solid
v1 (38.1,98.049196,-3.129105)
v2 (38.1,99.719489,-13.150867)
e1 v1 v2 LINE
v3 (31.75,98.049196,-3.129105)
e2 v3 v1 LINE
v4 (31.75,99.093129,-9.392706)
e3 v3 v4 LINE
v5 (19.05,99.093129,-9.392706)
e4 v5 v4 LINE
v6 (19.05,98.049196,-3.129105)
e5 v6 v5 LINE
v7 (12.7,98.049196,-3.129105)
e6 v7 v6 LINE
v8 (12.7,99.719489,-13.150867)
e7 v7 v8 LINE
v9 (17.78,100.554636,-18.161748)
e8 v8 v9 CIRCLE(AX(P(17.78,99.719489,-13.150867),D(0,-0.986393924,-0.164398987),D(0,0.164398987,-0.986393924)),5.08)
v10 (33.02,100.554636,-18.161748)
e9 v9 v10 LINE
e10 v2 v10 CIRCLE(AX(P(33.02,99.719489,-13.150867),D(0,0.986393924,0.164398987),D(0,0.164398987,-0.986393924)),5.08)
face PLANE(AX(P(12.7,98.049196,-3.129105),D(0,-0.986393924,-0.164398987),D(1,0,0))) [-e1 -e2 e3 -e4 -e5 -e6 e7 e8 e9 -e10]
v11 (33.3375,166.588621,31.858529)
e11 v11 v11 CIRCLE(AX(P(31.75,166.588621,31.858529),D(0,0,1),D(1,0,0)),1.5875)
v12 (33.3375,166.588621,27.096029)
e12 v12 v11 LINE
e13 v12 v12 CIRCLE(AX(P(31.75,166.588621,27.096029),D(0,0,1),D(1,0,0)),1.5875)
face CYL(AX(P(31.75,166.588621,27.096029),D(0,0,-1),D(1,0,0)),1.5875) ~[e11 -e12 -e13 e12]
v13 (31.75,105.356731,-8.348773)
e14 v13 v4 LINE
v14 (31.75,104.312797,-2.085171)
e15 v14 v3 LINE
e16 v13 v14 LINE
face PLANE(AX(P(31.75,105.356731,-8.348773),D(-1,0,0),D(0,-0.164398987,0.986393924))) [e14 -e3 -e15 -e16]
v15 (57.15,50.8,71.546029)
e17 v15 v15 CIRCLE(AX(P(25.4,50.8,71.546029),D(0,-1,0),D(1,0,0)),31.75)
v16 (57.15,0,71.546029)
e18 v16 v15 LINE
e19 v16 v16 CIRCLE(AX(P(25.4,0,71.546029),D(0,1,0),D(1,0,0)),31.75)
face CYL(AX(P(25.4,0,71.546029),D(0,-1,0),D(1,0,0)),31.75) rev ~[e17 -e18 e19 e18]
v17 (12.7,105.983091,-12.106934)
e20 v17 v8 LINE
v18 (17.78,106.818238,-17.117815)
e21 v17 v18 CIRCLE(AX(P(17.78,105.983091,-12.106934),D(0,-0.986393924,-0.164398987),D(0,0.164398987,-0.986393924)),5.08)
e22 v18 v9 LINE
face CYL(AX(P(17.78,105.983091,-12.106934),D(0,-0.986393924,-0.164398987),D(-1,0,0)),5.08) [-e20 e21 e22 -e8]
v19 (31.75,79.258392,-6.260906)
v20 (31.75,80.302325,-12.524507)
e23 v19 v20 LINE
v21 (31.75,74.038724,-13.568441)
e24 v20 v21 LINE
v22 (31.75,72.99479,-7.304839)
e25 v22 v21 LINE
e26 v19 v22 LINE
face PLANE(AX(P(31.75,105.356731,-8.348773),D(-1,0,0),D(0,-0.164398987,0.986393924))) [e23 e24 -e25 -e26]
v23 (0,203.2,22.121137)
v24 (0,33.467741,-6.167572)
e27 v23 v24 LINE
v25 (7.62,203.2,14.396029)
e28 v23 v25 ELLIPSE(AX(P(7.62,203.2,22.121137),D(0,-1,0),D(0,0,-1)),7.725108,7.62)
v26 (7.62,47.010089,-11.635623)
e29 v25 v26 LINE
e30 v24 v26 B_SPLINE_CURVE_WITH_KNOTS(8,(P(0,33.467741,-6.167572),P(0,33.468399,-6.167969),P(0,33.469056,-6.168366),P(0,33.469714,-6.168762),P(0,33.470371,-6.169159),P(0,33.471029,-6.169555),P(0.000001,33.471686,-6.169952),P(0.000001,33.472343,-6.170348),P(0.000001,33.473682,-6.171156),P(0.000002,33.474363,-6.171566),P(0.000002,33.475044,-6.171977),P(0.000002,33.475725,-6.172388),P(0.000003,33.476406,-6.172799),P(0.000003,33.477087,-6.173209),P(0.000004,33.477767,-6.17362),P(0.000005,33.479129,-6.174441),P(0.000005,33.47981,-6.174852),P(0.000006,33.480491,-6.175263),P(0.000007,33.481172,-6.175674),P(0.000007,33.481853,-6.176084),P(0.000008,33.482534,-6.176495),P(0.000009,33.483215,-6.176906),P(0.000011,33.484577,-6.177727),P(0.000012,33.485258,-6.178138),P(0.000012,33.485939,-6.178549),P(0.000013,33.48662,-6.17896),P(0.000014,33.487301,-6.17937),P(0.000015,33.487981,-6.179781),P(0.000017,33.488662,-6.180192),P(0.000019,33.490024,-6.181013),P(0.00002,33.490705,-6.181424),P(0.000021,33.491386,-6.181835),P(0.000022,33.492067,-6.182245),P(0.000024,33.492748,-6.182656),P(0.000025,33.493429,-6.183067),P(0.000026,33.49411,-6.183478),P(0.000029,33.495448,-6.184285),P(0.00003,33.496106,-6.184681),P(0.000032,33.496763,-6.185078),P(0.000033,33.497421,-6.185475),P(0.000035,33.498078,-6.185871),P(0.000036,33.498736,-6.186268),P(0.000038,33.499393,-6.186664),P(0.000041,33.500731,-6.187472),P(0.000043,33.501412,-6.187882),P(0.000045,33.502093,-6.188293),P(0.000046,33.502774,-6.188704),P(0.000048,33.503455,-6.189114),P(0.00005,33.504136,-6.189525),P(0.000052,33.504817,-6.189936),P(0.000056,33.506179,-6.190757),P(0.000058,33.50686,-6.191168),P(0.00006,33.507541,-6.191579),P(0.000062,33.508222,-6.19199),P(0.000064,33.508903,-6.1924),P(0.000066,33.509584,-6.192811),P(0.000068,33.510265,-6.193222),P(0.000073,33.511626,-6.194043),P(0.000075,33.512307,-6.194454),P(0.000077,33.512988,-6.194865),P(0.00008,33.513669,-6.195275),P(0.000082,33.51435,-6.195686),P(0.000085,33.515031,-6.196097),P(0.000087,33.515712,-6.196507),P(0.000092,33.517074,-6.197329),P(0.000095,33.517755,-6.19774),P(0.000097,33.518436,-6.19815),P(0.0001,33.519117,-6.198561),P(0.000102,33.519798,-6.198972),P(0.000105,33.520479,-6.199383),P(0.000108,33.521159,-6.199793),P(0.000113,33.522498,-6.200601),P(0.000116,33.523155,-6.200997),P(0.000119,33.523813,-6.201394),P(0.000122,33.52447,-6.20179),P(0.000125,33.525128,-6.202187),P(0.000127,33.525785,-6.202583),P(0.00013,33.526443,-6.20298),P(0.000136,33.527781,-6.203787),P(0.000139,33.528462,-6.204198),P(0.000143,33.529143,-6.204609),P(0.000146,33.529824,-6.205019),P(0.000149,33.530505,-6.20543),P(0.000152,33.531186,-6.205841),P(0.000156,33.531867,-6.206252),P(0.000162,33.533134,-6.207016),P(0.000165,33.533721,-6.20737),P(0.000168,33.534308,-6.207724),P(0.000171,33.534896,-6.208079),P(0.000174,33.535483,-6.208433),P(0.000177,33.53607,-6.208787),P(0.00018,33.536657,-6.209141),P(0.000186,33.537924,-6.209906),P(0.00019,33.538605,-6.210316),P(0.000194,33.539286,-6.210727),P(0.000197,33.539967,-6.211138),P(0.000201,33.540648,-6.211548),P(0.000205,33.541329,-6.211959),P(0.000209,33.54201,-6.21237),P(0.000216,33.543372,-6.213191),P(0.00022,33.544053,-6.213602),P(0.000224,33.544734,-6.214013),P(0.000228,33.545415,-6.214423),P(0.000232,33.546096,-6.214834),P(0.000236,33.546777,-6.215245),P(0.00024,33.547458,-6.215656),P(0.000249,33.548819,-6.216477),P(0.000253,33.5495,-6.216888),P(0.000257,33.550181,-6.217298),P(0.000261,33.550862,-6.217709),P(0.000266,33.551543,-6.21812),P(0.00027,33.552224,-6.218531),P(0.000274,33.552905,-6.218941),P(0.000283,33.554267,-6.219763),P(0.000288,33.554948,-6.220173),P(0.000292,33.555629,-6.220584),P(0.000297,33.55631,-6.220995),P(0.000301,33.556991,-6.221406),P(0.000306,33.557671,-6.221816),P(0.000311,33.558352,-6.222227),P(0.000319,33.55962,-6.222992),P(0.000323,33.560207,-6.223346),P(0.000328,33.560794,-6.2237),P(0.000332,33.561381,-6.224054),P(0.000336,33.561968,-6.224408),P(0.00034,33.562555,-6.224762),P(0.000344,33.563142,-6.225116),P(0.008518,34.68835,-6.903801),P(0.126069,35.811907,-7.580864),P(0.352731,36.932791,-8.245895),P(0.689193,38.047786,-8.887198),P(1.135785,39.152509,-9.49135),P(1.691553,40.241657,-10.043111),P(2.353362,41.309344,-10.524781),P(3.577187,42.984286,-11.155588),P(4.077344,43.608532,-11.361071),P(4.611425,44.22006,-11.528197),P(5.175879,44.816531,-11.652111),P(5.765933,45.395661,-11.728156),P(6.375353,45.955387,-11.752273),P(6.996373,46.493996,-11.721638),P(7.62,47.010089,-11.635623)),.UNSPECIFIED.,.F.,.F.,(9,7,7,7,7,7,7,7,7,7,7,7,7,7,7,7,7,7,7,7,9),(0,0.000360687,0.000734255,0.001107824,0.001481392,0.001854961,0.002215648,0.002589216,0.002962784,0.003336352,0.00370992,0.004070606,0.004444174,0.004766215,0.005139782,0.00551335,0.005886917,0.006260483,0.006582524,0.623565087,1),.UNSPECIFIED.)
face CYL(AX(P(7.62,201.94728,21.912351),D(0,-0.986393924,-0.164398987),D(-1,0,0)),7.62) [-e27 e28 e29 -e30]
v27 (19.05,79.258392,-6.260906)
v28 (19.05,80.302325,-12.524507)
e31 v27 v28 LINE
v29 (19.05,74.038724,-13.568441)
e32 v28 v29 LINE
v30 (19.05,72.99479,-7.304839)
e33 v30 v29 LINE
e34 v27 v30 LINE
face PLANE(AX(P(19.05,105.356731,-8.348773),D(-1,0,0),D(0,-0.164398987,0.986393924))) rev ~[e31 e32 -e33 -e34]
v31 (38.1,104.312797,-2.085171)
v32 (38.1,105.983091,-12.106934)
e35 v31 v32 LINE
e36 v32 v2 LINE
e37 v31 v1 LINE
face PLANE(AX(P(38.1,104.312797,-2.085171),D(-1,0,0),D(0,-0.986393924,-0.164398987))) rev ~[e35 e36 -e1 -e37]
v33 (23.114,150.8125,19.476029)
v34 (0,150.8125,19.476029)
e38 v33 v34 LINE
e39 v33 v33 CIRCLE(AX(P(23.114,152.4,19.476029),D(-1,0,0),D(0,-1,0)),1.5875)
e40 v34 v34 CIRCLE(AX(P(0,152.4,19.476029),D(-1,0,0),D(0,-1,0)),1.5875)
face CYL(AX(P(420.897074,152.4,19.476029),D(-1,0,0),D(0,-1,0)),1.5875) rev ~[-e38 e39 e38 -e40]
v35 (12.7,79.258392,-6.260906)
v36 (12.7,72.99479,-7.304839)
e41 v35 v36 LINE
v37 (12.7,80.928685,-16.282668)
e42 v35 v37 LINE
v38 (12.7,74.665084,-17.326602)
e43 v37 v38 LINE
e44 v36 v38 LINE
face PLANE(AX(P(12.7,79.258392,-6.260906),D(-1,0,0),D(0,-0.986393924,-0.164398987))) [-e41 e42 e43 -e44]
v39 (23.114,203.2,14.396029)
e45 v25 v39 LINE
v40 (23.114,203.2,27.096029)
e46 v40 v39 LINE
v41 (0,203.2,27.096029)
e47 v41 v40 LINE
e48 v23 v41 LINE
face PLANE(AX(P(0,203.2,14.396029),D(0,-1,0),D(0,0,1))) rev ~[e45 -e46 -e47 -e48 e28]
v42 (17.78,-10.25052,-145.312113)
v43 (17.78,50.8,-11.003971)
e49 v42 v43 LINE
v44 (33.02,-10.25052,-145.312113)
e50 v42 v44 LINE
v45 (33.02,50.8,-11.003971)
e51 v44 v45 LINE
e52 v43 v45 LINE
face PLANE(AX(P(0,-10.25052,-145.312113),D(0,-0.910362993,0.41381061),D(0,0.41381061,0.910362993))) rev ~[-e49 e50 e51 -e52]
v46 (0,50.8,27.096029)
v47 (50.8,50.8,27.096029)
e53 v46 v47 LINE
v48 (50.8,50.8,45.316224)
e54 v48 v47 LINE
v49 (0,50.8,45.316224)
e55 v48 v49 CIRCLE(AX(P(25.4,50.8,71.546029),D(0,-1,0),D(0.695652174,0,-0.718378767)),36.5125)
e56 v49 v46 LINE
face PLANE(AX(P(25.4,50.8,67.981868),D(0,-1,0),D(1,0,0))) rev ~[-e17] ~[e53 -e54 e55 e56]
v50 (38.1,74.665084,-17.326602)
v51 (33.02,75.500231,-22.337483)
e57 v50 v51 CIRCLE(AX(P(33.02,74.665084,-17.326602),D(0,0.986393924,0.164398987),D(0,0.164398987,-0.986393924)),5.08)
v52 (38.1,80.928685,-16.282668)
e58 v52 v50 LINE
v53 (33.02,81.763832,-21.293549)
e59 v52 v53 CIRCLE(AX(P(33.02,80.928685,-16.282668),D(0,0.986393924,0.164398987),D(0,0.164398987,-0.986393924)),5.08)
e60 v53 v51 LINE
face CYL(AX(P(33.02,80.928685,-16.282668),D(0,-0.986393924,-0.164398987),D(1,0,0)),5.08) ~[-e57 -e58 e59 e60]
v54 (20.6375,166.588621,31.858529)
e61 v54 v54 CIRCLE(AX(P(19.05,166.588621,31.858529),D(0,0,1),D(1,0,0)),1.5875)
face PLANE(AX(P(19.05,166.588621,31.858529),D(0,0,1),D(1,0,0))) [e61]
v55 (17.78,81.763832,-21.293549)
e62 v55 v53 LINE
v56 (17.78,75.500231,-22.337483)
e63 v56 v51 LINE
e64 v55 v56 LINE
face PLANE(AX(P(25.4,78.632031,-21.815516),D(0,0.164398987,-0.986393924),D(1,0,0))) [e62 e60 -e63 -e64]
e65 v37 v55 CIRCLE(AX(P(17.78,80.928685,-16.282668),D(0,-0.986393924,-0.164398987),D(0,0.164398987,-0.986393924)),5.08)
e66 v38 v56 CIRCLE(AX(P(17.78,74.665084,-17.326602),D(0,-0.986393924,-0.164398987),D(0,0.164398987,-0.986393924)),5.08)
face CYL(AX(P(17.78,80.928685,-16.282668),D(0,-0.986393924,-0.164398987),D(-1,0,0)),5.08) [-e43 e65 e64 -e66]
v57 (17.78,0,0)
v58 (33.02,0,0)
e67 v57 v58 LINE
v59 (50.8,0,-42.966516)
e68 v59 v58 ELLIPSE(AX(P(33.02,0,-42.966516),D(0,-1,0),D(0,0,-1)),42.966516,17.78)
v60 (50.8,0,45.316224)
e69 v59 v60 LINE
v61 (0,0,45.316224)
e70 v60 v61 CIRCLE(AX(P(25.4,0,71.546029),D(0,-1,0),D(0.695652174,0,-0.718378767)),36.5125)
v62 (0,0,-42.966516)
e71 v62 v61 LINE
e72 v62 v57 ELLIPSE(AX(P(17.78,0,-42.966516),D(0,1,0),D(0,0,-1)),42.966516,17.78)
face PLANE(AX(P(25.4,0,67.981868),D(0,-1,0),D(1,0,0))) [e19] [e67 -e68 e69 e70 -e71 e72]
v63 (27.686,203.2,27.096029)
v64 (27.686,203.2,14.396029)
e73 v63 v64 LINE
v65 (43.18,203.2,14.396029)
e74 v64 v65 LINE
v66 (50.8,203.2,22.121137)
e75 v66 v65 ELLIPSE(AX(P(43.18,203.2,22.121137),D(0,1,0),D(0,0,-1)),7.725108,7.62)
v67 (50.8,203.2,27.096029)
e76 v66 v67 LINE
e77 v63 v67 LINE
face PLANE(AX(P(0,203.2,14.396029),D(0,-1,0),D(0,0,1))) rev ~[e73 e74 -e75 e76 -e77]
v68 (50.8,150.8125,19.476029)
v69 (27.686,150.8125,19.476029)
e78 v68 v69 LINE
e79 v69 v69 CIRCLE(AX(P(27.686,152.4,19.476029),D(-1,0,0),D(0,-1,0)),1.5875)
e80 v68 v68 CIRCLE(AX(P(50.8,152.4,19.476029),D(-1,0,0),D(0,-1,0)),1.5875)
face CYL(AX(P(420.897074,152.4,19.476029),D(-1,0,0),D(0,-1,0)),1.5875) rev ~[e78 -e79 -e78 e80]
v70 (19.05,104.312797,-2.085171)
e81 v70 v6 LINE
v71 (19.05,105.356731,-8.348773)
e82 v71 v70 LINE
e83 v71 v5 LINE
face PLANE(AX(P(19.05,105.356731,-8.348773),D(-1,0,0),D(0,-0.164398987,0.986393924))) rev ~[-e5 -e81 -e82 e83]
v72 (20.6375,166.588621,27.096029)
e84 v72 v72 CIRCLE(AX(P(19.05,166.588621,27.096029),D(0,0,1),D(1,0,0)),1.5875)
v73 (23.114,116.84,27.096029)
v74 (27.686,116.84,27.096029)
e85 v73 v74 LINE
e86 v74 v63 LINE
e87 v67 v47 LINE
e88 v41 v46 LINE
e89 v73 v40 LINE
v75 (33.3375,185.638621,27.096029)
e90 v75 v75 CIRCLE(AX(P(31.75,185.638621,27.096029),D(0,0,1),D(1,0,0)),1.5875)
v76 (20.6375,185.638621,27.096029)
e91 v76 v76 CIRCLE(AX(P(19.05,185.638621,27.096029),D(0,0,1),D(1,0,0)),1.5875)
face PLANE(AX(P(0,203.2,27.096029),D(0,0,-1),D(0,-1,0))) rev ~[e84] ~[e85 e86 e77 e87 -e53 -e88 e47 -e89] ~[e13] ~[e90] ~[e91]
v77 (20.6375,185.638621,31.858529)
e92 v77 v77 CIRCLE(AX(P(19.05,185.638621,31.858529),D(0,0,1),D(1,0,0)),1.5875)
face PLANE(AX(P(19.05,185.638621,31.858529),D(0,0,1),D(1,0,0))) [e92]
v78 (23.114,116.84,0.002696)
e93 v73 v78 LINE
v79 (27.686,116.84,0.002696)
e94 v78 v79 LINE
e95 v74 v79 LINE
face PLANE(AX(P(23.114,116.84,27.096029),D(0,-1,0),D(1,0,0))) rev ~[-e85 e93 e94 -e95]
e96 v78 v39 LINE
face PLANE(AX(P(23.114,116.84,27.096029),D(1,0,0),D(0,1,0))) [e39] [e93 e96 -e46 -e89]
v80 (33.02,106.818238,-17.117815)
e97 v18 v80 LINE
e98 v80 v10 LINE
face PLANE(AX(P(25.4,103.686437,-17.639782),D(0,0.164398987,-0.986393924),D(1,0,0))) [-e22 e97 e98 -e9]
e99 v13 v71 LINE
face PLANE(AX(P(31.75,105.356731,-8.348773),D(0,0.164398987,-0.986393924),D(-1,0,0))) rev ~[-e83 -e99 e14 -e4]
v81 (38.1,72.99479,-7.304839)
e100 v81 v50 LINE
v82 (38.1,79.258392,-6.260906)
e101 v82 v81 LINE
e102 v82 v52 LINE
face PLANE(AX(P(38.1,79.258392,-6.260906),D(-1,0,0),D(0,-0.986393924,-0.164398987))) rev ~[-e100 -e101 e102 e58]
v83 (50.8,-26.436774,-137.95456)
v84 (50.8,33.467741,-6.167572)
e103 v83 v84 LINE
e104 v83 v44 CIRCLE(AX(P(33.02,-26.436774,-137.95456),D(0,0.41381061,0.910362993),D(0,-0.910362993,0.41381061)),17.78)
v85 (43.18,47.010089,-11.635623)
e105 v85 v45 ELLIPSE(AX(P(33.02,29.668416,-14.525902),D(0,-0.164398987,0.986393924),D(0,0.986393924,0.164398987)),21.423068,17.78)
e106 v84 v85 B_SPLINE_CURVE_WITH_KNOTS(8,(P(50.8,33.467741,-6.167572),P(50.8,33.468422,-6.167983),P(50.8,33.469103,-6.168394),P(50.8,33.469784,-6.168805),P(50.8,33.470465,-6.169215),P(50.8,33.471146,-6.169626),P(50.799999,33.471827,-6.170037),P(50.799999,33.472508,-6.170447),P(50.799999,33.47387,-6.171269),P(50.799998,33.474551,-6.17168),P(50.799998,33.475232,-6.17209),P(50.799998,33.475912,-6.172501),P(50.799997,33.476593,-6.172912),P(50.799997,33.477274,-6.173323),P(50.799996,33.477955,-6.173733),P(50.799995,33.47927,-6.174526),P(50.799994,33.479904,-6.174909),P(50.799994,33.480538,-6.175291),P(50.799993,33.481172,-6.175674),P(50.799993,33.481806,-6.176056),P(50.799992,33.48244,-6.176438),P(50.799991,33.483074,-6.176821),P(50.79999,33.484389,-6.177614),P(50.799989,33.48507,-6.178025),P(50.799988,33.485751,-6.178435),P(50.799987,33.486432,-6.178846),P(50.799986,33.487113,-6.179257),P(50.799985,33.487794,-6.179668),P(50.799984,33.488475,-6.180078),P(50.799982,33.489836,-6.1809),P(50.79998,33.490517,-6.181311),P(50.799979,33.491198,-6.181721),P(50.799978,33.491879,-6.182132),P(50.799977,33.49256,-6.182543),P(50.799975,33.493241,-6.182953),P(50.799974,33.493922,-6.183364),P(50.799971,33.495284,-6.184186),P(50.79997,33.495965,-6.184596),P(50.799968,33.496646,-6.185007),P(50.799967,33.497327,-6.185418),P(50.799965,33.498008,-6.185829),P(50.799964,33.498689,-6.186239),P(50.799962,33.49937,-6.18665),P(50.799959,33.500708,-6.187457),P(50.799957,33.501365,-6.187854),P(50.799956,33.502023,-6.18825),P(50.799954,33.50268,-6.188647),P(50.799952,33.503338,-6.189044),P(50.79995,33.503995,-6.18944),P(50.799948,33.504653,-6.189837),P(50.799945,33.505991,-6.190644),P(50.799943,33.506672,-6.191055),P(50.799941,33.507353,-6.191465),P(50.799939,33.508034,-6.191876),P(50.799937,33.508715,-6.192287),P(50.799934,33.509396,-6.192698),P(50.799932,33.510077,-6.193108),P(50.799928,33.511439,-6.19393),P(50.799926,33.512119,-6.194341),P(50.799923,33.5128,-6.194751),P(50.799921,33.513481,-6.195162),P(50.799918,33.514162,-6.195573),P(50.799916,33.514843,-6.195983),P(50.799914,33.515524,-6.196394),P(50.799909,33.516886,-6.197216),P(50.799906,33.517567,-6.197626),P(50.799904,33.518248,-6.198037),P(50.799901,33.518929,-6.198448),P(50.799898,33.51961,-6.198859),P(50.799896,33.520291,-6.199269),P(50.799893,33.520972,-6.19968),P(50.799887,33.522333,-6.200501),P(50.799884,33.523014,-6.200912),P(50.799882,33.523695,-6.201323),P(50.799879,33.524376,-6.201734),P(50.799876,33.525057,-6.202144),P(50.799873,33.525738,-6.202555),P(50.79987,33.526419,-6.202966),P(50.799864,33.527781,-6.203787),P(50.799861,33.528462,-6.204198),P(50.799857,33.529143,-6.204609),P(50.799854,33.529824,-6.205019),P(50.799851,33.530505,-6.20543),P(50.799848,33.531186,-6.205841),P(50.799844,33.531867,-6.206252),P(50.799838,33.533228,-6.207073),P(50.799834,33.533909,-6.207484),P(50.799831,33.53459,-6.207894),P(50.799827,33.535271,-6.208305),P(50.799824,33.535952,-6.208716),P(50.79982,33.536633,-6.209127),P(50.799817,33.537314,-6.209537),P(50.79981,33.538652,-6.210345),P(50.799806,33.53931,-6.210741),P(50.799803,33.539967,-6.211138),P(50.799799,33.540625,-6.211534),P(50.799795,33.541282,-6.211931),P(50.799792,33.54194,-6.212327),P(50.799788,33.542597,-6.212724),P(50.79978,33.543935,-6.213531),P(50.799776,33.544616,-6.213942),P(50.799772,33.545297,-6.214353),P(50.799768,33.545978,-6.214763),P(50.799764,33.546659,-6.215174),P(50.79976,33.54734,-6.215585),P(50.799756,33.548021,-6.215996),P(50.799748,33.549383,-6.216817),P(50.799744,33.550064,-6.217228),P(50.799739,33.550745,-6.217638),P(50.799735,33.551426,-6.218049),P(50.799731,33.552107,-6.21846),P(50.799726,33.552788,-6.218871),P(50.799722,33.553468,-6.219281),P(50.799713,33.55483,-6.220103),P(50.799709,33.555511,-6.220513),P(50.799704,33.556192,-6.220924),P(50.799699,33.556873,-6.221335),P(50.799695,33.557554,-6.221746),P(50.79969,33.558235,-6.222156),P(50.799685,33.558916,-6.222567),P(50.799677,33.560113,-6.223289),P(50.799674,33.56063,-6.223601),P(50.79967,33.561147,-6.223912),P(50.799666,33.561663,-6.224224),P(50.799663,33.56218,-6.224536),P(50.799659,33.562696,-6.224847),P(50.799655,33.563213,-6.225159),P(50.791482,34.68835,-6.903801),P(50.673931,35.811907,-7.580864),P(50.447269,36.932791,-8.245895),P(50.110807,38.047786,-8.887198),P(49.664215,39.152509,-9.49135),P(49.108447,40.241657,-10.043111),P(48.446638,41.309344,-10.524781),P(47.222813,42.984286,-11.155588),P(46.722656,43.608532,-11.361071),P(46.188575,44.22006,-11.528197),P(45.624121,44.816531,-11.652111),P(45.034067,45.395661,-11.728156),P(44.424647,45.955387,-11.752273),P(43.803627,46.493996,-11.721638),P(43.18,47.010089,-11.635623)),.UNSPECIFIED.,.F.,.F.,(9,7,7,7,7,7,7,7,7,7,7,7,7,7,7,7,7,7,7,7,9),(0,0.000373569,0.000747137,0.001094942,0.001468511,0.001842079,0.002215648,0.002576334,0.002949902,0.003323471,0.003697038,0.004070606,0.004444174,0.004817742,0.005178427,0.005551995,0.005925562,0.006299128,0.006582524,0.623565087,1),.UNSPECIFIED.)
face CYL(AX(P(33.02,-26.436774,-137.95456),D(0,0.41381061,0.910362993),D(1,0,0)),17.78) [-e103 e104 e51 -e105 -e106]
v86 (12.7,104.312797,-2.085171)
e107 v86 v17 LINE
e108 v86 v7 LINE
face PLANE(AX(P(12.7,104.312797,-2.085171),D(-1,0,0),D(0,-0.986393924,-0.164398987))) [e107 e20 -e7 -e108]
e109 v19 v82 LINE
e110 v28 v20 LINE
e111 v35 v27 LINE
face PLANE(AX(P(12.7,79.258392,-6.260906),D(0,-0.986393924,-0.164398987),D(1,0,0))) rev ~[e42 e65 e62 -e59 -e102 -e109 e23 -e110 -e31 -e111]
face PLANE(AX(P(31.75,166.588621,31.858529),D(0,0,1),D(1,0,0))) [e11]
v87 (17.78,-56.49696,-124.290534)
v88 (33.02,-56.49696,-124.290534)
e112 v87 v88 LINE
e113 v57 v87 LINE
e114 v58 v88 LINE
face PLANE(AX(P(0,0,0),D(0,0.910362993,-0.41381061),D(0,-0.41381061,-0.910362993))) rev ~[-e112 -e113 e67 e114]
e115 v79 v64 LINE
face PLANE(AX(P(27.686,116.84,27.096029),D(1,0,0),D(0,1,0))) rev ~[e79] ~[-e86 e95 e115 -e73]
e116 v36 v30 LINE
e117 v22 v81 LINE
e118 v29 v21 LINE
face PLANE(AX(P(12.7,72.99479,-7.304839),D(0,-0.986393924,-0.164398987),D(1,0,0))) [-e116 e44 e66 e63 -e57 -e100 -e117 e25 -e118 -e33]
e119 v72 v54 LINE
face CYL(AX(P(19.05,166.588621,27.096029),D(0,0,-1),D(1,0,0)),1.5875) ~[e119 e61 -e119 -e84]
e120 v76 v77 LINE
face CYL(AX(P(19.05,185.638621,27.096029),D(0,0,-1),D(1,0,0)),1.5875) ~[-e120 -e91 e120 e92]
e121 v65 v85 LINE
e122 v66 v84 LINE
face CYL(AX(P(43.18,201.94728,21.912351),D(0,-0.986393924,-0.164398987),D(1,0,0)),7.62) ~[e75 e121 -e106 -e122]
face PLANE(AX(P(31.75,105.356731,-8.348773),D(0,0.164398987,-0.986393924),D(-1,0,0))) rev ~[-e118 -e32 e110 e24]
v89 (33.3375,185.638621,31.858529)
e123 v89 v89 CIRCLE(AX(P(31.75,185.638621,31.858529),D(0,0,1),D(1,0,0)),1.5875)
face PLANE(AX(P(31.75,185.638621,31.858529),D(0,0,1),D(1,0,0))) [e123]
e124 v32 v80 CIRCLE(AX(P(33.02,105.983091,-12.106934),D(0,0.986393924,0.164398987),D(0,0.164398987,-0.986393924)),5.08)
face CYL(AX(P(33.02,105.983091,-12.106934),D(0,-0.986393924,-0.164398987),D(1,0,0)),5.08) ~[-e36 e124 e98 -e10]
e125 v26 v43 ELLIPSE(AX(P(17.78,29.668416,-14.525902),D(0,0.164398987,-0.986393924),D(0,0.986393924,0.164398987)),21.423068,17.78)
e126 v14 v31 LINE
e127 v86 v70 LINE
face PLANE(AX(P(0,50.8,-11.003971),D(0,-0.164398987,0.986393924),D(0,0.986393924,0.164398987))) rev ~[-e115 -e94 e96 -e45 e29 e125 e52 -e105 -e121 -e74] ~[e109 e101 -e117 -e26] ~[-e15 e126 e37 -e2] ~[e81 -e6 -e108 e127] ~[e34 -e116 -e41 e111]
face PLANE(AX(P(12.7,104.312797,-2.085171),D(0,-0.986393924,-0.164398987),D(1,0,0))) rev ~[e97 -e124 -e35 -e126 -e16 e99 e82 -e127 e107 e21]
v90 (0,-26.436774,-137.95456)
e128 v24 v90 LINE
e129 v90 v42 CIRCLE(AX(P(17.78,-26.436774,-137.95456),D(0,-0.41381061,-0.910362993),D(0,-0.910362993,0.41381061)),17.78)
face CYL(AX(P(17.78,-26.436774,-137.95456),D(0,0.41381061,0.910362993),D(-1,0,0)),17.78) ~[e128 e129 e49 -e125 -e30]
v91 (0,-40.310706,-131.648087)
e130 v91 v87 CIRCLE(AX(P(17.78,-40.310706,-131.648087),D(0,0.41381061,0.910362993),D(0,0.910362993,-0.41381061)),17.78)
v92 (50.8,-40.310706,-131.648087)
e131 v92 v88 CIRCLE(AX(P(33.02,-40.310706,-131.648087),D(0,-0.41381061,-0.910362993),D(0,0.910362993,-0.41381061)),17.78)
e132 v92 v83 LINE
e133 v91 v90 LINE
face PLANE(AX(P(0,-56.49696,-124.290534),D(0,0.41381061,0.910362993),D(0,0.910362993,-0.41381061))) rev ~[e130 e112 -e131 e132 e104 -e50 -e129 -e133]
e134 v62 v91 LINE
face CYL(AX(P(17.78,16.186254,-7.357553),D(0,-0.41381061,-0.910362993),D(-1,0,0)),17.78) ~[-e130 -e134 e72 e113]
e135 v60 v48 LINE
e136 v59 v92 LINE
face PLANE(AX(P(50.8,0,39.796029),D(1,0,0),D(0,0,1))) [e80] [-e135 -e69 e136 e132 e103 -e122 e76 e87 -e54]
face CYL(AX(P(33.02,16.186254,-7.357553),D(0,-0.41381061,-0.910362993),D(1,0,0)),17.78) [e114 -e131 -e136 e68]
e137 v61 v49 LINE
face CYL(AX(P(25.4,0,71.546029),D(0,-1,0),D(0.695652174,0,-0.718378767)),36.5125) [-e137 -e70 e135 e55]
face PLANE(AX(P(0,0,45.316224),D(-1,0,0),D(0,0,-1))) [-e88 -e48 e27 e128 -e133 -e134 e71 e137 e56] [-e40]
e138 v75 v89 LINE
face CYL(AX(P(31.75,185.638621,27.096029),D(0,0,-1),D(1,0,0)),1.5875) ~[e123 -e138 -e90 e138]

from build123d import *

# Parameters (mm, degrees)
F1_DEPTH  = 50.8
F2_R      = 31.75
F3_DEPTH  = 50.8
F4_R      = 17.78
F5_R      = 7.62
F6_R      = 1.5875
F7_DEPTH  = 4.7625
F8_W      = 4.572
F8_H      = 86.36
F9_DEPTH  = 127
F11_D     = 3.175
F12_W     = 25.4
F12_H     = 6.35
F13_DEPTH = 15.24
F14_R     = 5.08
F15_W     = 12.7
F15_H     = 6.35
F16_DEPTH = 50.8


with BuildPart() as f1:
    # F0 (on Right) → F1 (new body)
    with BuildSketch(Plane.YZ):
        Polygon((0, 39.7960290042), (0, 0), (-56.4969599977, -124.290533917), (-10.2505199437, -145.3121128855), (50.8, -11.0039709958), (203.2, 14.3960290042), (203.2, 27.0960290042), (50.8, 27.0960290042), (50.8, 39.7960290042), align=None)
    extrude(amount=F1_DEPTH)

    # F2 (on face) → F3 (join)
    with BuildSketch(Plane.XZ):
        with BuildLine():
            Line((0, 45.3162242728), (0, 39.7960290042))
            Line((0, 39.7960290042), (7.3694660021, 39.7960290042))
            ThreePointArc((7.3694660021, 39.7960290042), (25.4, 35.0335290042), (43.4305339979, 39.7960290042))
            Line((43.4305339979, 39.7960290042), (50.8, 39.7960290042))
            Line((50.8, 39.7960290042), (50.8, 45.3162242728))
            ThreePointArc((50.8, 45.3162242728), (25.4, 108.0585290042), (0, 45.3162242728))
        make_face()
        with Locations((25.4, 71.5460290042)):
            Circle(F2_R, mode=Mode.SUBTRACT)
    extrude(amount=-F3_DEPTH)

    # F4
    f4_edges = [f1.edges().sort_by_distance(p)[0] for p in [
        (50.8, -28.24848, -62.145267),
        (0, -28.24848, -62.145267),
        (50.8, 20.27474, -78.158042),
        (0, 20.27474, -78.158042),
    ]]
    fillet(f4_edges, radius=F4_R)

    # F5
    f5_edges = [f1.edges().sort_by_distance(p)[0] for p in [
        (50.8, 127, 1.696029),
        (0, 127, 1.696029),
    ]]
    fillet(f5_edges, radius=F5_R)

    # F6 (on face) → F7 (join)
    with BuildSketch(Plane.XY.offset(27.0960290042)):
        with Locations((19.05, 185.6386214495)):
            Circle(F6_R)
        with Locations((31.75, 185.6386214495)):
            Circle(F6_R)
        with Locations((31.75, 166.5886214495)):
            Circle(F6_R)
        with Locations((19.05, 166.5886214495)):
            Circle(F6_R)
    extrude(amount=F7_DEPTH)

    # F8 (on face) → F9 (cut)
    with BuildSketch(Plane.XY.offset(27.0960290042)):
        with Locations((25.4, 160.02)):
            Rectangle(F8_W, F8_H)
    extrude(amount=-F9_DEPTH, mode=Mode.SUBTRACT)

    # F11 (through all)
    with Locations(Plane.YZ.offset(50.8)):
        with Locations((152.4, 19.4760290042)):
            Hole(F11_D / 2)

    # F12 (on face) → F13 (join)
    with BuildSketch(Plane(origin=(0, 3.157400702, -18.9444042121), x_dir=(1, 0, 0), z_dir=(0, 0.1643989873, -0.9863939238))):
        with Locations((25.4, -99.3757092261)):
            Rectangle(F12_W, F12_H)
        with Locations((25.4, -73.9757092261)):
            Rectangle(F12_W, F12_H)
    extrude(amount=F13_DEPTH)

    # F14
    f14_edges = [f1.edges().sort_by_distance(p)[0] for p in [
        (38.1, 103.686437, -17.639782),
        (38.1, 78.632031, -21.815516),
        (12.7, 78.632031, -21.815516),
        (12.7, 103.686437, -17.639782),
    ]]
    fillet(f14_edges, radius=F14_R)

    # F15 (on face) → F16 (cut)
    with BuildSketch(Plane(origin=(0, 101.1553964653, 16.8592327442), x_dir=(-1, 0, 0), z_dir=(0, 0.9863939238, 0.1643989873))):
        with Locations((-25.4, -22.3807186834)):
            Rectangle(F15_W, F15_H)
    extrude(amount=-F16_DEPTH, mode=Mode.SUBTRACT)


solid = f1.part
